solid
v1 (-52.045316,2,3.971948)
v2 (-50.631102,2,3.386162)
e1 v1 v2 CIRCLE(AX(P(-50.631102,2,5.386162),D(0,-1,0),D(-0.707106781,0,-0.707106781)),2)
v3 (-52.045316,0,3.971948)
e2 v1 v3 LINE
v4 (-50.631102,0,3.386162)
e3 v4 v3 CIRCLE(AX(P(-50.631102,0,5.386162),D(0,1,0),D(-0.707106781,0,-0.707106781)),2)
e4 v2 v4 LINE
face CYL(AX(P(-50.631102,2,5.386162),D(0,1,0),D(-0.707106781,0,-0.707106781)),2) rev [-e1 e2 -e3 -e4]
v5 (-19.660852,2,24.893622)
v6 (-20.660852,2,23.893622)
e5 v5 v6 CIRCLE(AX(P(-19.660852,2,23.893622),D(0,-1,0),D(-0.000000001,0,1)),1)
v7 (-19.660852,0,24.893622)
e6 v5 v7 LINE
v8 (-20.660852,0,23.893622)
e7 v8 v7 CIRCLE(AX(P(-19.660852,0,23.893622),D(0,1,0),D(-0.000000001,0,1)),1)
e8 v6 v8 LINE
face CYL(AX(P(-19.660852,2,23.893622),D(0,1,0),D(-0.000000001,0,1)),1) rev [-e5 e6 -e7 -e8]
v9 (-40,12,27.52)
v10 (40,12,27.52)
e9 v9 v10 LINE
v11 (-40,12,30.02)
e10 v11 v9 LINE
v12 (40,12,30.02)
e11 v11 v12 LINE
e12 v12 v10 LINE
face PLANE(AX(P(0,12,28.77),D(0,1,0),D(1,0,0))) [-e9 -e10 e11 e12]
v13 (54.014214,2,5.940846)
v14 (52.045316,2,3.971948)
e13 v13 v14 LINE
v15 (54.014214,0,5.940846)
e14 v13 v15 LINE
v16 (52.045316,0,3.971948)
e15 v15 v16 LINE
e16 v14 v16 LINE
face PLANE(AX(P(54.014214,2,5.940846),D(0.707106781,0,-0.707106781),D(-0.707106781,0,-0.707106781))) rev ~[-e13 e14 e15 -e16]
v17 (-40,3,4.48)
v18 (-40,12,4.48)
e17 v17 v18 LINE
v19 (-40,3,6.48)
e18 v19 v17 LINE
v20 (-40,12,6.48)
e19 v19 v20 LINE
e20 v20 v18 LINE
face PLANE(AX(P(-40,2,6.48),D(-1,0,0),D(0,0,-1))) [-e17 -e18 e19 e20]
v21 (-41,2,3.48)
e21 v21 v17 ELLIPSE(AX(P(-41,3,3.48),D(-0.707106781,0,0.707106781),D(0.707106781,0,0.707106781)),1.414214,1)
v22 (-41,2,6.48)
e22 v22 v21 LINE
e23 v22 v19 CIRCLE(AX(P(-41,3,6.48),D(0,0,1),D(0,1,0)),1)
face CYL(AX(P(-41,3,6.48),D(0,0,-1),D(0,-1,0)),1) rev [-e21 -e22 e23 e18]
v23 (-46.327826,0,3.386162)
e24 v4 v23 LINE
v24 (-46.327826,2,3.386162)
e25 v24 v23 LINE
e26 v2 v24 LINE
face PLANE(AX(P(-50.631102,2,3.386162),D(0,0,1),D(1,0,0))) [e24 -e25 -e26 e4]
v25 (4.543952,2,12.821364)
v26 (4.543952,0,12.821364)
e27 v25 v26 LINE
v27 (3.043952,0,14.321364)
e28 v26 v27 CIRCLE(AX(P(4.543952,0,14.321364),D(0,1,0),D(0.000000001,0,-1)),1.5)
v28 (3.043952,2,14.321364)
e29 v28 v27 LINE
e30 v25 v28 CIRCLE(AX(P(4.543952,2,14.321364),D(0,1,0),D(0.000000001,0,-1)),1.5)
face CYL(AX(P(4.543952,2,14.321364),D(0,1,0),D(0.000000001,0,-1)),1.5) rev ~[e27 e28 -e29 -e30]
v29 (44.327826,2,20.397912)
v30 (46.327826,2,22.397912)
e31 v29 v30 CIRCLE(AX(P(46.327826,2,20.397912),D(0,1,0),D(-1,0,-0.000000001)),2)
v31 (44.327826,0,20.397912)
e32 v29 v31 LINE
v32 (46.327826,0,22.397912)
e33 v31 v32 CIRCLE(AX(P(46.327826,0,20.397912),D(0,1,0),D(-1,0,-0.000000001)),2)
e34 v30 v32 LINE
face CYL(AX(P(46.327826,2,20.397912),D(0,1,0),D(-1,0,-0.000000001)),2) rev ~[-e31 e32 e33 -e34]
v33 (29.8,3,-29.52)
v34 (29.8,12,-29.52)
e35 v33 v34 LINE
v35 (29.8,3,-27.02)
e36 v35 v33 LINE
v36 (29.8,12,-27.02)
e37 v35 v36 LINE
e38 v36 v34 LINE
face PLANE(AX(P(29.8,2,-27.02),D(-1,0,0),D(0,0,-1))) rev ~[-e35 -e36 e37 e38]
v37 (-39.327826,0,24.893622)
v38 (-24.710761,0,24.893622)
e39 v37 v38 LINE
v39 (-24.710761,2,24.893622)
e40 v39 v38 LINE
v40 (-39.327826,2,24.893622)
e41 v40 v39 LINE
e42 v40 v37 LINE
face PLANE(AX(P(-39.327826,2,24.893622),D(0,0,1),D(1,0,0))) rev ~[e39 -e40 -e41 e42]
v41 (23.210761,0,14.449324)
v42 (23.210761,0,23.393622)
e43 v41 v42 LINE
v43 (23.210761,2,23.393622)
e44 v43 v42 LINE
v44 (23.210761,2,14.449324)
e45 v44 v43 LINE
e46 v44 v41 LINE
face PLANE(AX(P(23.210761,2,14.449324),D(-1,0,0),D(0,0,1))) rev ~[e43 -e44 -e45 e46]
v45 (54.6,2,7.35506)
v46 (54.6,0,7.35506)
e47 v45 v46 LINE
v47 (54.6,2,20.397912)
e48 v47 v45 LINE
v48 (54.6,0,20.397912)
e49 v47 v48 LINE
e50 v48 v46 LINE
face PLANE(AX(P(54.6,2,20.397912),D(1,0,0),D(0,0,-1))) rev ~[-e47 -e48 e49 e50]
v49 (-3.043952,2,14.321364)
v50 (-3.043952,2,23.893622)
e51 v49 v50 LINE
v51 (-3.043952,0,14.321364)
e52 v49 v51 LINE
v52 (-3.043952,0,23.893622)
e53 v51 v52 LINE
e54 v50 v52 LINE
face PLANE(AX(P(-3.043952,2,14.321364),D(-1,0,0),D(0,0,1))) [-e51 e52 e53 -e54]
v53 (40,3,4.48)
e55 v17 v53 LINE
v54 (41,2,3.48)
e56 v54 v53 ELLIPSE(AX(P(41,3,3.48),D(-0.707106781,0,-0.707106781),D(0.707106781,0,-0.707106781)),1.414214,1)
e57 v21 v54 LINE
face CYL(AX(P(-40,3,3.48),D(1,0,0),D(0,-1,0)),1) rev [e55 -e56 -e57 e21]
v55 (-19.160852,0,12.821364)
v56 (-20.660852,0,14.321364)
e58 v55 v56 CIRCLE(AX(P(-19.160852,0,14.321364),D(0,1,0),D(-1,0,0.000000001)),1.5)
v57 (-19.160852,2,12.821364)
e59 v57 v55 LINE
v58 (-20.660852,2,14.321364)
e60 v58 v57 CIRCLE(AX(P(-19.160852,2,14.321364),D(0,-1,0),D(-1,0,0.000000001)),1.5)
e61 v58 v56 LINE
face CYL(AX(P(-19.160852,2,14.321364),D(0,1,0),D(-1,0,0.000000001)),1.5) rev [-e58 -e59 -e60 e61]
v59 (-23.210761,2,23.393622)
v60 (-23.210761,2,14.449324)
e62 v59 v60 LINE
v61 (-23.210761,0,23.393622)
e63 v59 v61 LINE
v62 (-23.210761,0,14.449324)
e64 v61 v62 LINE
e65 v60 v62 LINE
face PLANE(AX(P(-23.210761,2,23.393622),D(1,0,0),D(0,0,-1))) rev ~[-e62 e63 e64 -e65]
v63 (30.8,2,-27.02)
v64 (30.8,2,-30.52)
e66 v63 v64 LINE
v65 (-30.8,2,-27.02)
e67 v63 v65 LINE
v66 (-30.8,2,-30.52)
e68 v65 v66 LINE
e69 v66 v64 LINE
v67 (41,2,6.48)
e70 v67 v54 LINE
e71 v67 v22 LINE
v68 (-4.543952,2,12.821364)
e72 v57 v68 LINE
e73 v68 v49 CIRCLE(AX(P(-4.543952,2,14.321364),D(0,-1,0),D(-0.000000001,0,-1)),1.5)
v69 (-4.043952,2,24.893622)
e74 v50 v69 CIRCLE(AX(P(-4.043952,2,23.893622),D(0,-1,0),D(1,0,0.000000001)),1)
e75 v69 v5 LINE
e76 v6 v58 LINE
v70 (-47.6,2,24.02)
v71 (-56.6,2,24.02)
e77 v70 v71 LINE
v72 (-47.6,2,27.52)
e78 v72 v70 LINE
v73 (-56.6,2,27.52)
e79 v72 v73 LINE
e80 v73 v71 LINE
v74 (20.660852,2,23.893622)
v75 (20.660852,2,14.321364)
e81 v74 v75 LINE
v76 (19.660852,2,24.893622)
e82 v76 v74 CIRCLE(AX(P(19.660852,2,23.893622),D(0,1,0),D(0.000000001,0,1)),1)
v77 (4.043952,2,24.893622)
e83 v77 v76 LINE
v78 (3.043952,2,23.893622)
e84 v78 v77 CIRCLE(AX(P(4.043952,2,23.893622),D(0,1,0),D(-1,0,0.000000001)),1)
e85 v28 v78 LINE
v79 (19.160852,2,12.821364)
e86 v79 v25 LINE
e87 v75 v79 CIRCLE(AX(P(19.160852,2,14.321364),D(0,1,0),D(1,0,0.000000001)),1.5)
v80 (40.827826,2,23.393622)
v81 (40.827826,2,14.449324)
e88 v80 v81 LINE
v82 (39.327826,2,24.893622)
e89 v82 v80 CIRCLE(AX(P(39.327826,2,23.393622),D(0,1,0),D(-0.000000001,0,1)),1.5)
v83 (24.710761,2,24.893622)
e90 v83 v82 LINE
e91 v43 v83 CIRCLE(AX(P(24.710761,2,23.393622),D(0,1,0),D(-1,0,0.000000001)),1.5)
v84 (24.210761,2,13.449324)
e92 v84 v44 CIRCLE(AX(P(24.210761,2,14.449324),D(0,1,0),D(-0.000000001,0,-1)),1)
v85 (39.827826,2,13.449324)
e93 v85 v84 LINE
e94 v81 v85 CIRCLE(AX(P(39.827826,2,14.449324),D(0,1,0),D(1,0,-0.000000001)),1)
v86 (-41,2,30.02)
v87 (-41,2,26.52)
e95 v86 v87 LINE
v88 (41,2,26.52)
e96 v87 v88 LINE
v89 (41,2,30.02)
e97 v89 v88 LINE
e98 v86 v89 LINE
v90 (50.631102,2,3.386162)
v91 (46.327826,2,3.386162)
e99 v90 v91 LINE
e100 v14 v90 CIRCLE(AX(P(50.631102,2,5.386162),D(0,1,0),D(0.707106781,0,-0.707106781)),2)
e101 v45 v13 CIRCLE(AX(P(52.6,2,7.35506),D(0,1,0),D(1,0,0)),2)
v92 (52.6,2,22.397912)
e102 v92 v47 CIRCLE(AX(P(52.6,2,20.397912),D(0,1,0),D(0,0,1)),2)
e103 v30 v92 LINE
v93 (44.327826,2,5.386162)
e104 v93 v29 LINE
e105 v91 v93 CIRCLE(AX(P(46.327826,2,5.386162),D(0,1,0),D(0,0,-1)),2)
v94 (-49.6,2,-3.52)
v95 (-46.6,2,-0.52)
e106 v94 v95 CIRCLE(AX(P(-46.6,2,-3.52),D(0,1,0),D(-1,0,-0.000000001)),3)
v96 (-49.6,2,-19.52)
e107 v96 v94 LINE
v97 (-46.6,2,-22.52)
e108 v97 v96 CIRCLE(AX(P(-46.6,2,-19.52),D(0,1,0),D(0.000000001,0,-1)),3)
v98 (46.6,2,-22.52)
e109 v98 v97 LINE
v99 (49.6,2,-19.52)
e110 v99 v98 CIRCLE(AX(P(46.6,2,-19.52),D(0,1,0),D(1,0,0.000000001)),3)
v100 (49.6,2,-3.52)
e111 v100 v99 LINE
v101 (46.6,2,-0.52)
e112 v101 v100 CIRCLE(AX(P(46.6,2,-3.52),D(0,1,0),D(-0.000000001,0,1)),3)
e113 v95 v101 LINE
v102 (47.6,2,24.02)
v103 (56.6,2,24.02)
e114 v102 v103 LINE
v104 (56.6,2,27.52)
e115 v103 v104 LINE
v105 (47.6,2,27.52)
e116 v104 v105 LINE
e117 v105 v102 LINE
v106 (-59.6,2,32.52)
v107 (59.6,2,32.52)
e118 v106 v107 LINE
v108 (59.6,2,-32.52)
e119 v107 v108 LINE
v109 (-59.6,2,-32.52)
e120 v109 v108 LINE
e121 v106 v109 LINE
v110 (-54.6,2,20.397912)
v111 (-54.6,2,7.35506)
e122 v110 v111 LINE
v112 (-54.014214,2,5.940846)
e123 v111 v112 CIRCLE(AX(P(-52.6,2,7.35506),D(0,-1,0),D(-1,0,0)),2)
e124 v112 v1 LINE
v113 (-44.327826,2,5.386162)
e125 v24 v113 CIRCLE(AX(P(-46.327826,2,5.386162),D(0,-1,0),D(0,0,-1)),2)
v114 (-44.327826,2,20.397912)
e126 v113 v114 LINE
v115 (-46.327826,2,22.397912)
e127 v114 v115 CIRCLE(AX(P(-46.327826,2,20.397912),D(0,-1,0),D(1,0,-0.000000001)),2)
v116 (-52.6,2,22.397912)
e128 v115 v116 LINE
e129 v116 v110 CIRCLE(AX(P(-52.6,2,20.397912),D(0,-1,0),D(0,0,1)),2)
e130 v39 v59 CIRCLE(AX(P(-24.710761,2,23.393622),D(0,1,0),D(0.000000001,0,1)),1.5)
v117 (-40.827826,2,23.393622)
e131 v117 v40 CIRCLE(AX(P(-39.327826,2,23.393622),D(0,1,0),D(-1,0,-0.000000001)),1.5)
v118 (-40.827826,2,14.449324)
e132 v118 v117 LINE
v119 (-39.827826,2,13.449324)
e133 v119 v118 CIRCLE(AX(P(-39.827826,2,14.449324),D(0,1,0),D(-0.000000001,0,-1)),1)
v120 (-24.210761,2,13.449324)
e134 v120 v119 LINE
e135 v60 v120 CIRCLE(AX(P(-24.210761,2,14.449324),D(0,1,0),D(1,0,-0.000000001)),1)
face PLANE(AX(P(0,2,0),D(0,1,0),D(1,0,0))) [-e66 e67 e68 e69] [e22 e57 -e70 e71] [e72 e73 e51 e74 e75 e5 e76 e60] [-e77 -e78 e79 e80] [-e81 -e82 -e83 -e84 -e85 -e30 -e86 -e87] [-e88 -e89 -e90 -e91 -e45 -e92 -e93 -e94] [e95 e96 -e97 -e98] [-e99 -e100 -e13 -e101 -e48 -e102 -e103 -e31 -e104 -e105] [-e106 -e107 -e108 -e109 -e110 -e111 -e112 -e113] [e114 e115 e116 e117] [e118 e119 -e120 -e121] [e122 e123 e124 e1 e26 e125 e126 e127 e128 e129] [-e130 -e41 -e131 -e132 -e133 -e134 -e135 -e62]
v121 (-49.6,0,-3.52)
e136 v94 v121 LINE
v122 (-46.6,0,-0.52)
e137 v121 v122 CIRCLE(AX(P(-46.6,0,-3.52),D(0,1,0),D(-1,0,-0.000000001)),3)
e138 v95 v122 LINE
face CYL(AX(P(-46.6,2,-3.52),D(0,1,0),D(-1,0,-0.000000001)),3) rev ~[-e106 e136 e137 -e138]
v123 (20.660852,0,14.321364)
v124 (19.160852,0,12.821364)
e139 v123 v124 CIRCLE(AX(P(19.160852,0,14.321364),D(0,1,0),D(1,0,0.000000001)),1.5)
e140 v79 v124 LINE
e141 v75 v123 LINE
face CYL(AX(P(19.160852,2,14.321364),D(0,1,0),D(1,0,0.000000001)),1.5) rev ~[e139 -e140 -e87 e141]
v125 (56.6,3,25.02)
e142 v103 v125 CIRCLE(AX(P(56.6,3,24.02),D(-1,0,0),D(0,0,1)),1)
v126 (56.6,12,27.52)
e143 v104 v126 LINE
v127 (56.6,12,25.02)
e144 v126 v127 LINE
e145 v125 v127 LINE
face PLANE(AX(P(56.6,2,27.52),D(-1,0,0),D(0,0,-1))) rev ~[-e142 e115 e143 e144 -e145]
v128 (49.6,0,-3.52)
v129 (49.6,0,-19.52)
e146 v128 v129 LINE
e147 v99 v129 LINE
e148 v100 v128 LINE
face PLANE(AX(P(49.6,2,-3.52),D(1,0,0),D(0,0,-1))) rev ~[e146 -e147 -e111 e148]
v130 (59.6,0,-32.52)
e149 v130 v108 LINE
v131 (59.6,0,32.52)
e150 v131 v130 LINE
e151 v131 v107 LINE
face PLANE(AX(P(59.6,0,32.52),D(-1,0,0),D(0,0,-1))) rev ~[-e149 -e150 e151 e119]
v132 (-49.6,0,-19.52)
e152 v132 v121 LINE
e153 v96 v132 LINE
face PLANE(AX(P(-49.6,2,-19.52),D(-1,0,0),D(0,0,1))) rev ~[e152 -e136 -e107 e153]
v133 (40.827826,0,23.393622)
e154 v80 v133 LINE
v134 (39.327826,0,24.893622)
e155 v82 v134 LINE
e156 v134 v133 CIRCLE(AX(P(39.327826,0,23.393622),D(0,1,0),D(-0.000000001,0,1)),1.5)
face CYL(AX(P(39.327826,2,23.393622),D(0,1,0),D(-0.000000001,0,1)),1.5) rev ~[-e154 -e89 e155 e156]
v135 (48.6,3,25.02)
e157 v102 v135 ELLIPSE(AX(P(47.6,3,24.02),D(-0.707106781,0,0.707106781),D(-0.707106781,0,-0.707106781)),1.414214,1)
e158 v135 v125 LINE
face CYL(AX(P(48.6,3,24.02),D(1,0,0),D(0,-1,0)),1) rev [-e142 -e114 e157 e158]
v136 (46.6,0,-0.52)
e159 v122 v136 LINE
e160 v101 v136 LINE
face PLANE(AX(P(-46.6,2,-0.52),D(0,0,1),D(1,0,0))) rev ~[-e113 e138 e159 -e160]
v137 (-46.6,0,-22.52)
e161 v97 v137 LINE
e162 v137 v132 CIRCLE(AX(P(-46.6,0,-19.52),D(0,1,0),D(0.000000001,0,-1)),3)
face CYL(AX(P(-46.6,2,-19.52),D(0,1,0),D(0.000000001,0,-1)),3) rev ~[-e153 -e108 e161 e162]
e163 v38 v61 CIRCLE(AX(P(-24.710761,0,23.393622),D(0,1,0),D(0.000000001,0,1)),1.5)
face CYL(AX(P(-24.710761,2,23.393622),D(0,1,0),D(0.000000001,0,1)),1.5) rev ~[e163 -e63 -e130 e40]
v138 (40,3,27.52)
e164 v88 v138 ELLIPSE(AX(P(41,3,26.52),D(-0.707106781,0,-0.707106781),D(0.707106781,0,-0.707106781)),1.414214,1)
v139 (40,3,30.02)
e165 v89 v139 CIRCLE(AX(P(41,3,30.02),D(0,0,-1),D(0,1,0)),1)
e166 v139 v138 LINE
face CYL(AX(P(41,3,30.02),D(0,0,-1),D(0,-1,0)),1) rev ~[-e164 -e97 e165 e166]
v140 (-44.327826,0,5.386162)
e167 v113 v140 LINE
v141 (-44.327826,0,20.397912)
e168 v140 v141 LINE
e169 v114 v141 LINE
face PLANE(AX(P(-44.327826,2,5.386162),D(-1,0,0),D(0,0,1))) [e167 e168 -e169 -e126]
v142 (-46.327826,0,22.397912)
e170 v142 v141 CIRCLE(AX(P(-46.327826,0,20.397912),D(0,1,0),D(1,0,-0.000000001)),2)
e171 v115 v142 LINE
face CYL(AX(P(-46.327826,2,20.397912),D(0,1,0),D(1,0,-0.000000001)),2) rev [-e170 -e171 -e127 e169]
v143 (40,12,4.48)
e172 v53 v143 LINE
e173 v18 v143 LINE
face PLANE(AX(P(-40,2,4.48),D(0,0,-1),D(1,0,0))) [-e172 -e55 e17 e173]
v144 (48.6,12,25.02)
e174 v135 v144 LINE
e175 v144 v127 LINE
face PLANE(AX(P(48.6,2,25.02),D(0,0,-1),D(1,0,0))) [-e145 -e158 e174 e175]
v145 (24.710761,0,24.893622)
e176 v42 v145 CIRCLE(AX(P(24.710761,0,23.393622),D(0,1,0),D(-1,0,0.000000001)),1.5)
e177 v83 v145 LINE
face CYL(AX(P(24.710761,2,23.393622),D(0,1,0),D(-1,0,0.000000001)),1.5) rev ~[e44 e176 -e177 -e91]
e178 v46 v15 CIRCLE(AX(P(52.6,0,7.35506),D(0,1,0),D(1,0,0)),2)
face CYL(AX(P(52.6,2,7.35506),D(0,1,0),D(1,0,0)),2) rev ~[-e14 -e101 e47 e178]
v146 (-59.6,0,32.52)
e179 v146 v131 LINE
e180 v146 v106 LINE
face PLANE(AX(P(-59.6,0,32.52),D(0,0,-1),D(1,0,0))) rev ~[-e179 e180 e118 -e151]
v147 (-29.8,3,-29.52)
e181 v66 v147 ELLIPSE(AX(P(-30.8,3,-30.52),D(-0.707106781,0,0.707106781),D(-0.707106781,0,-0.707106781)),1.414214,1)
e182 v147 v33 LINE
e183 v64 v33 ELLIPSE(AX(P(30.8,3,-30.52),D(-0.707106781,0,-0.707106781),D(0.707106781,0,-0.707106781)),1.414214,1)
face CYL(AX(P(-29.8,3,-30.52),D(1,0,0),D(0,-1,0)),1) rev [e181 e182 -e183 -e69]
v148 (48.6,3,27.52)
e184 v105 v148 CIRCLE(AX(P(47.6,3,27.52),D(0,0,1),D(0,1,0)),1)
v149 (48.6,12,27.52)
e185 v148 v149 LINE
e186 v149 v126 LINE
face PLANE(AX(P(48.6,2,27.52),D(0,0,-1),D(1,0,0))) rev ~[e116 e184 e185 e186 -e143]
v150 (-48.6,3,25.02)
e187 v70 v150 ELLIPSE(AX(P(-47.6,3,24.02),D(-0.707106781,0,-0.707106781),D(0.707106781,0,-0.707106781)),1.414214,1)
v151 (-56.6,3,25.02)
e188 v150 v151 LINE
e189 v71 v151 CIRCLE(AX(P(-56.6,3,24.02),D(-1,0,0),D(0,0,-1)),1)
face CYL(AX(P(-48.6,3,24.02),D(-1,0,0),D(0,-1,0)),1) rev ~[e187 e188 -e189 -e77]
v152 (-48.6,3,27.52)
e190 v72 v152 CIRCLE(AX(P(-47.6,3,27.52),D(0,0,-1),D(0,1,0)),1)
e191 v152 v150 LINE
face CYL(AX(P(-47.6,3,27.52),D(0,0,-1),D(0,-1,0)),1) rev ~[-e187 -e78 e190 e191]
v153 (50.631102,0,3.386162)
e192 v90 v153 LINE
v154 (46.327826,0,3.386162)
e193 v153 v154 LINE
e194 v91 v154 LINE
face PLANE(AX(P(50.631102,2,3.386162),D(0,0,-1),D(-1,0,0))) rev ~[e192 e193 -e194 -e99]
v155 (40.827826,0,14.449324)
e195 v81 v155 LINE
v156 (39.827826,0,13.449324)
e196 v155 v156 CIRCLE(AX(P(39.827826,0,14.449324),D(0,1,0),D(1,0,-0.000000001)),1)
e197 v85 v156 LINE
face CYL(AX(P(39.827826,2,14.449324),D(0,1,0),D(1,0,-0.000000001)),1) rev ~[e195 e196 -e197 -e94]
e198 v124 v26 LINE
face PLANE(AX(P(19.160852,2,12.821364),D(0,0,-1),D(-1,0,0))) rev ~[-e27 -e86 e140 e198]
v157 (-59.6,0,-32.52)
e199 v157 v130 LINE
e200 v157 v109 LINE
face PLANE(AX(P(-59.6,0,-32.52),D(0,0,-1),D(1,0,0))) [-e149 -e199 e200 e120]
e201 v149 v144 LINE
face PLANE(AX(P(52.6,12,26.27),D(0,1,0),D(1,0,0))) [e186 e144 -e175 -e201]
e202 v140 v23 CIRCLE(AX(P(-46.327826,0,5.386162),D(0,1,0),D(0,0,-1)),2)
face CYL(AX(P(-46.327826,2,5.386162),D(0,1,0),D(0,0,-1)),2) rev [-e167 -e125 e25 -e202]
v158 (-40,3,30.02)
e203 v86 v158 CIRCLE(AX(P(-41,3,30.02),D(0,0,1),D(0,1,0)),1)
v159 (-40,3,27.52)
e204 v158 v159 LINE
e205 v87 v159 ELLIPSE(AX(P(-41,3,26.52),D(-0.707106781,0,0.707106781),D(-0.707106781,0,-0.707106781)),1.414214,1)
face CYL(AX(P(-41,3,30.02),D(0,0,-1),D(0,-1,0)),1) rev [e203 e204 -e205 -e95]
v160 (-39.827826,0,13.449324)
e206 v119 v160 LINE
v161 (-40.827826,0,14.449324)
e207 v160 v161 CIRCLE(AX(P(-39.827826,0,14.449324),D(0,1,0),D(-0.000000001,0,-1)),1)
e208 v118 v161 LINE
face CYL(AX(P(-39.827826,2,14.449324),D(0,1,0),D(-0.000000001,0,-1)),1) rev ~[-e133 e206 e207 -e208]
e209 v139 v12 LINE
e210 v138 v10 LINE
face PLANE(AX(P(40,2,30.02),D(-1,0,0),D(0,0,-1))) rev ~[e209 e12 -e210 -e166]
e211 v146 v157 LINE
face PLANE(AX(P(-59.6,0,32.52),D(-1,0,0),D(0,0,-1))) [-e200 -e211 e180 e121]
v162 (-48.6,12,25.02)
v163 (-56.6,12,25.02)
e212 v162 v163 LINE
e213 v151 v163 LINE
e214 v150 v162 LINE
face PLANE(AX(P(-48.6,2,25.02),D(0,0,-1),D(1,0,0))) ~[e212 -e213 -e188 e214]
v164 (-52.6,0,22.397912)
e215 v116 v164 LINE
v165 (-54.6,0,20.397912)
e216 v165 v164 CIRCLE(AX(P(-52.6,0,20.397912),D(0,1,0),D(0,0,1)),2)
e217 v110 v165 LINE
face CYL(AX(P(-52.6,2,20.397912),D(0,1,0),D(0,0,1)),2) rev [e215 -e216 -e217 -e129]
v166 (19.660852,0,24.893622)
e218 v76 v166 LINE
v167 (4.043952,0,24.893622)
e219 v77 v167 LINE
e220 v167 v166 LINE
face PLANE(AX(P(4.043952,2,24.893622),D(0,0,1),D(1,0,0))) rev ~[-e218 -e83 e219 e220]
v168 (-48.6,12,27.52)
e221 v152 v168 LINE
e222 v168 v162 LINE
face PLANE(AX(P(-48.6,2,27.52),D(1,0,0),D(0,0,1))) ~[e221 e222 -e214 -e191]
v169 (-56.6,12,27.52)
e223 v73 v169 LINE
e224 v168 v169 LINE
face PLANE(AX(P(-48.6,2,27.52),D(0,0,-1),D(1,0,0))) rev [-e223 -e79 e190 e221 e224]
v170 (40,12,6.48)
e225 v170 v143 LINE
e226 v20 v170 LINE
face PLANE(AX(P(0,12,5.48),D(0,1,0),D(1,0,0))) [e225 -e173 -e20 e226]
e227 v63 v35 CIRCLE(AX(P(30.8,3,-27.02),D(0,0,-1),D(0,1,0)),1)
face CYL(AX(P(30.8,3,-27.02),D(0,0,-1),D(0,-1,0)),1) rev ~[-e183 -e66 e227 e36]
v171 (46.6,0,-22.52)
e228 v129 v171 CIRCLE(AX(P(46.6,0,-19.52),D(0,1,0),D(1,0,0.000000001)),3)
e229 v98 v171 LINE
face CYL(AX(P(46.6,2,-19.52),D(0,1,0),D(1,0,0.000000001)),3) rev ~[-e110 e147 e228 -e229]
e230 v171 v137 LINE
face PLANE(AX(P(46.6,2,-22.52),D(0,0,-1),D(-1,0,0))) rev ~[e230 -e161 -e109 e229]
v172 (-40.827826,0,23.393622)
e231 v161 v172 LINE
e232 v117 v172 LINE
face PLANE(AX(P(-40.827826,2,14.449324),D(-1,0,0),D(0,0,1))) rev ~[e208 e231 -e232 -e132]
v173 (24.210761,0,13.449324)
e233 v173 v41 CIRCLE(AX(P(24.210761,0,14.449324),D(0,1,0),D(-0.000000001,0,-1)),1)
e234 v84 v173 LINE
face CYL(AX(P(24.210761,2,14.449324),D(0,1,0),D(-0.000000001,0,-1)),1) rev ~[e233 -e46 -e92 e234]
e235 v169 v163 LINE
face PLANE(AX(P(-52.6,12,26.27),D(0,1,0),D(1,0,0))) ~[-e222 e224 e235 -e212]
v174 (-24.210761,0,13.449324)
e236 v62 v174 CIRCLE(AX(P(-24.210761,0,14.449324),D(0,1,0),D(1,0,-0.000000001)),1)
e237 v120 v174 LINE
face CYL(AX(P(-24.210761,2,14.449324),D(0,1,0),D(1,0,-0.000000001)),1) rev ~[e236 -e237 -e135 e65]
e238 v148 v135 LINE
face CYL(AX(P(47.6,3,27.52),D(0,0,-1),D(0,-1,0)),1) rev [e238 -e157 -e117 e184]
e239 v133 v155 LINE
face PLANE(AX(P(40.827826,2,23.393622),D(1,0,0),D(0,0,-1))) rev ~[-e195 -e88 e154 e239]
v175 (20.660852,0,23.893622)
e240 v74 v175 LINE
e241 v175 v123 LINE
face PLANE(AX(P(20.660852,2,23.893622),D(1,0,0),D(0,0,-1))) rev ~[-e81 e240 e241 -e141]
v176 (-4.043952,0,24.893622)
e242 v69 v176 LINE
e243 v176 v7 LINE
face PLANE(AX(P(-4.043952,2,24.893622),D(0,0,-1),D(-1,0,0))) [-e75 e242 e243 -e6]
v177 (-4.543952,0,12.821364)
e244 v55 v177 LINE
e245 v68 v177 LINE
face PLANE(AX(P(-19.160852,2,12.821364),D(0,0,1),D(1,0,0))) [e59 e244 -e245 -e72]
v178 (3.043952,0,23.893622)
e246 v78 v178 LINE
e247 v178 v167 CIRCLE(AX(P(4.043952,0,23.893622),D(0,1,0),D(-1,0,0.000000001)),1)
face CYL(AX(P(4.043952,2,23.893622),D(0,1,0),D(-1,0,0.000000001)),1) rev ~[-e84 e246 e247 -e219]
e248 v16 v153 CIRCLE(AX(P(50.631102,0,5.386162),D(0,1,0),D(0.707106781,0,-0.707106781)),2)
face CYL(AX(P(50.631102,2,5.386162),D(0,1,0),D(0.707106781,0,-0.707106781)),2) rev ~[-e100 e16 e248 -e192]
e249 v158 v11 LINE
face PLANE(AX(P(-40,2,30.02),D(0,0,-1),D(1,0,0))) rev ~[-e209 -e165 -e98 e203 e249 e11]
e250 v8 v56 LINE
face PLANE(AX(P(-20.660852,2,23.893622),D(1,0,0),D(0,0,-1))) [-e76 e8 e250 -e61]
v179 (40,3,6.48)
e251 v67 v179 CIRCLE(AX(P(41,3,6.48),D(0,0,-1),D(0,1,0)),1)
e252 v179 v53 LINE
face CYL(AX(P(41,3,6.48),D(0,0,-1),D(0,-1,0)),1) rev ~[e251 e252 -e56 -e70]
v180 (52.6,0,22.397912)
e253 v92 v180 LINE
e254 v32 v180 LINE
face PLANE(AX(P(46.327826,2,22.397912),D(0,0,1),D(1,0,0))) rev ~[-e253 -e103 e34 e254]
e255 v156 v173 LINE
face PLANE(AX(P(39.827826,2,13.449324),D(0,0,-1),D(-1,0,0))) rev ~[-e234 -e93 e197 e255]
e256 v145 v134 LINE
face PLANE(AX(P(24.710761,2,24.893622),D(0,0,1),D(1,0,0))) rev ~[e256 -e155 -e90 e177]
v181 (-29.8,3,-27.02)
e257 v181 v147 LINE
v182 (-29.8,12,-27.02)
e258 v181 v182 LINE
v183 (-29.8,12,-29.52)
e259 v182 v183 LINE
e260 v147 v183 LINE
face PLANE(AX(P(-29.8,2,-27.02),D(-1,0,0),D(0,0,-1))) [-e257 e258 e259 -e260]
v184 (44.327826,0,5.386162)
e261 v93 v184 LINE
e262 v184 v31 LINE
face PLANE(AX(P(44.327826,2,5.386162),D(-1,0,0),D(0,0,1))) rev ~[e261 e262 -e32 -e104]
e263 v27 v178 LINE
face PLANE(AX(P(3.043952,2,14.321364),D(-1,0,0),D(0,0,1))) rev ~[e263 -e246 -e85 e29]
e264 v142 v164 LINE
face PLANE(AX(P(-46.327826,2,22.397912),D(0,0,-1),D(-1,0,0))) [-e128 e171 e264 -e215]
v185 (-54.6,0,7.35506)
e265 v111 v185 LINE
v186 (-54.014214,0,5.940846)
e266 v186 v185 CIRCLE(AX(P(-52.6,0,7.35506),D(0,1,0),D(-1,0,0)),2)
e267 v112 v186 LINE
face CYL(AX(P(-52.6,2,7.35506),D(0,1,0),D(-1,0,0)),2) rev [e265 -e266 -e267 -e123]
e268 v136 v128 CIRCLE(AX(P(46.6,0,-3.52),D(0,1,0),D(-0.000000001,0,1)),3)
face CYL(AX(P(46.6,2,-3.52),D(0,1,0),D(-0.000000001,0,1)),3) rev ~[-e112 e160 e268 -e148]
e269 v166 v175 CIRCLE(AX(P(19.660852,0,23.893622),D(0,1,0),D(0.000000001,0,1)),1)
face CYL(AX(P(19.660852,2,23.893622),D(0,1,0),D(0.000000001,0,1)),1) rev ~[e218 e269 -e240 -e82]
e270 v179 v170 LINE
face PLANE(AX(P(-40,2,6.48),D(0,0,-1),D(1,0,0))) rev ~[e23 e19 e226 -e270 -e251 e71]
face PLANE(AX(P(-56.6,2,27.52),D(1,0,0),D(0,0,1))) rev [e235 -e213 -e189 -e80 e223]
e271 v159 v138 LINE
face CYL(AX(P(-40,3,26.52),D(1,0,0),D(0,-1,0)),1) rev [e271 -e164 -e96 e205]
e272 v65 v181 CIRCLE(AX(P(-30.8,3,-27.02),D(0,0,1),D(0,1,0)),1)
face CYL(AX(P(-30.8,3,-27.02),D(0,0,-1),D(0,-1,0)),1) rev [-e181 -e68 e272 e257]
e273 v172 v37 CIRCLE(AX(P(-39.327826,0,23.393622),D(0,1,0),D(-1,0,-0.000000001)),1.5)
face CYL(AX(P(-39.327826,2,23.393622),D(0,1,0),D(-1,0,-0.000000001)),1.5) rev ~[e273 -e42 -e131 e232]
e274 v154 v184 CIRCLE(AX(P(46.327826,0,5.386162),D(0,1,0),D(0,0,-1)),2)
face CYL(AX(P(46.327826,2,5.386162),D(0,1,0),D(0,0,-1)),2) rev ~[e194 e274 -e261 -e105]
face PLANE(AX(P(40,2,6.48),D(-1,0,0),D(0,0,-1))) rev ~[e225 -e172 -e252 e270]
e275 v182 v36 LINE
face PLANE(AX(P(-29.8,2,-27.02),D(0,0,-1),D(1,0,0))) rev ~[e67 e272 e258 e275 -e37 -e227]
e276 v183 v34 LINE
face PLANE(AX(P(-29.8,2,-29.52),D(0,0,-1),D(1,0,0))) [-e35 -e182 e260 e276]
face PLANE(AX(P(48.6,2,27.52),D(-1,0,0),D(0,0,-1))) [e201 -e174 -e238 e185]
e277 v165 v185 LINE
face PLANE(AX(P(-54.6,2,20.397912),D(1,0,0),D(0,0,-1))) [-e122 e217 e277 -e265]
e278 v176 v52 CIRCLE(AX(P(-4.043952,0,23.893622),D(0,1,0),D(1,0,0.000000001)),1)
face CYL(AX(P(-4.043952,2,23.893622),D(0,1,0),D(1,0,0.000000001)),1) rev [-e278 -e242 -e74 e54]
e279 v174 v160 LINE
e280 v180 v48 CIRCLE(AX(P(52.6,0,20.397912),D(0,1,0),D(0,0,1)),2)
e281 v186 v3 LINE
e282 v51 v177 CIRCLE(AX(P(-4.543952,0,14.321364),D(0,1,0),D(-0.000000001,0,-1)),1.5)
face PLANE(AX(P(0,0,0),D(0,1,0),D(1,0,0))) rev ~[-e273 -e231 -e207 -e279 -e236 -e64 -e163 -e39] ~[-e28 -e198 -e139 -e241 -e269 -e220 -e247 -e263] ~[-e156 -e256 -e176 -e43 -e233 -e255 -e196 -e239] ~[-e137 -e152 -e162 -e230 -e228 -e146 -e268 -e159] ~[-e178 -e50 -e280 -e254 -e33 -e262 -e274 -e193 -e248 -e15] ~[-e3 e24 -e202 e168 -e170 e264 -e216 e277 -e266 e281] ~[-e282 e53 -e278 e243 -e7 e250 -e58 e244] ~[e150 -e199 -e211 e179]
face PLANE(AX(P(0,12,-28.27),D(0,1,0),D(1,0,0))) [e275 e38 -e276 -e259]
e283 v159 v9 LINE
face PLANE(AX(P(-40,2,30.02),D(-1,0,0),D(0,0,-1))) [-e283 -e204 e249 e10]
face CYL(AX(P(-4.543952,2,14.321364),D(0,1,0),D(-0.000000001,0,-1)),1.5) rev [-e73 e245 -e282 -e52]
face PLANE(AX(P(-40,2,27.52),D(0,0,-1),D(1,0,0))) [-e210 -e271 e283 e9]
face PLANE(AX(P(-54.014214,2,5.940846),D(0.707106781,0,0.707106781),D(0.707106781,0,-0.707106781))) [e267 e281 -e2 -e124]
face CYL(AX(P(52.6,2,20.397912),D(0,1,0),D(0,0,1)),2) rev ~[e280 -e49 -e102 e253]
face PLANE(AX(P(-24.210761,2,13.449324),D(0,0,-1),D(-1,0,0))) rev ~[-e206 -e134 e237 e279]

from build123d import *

# Parameters (mm, degrees)
SKETCH1_W           = 119.2
SKETCH1_H           = 65.04
BOSS_EXTRUDE1_DEPTH = 2
SKETCH2_W           = 59.6
SKETCH2_H           = 2.5
SKETCH2_W_2         = 80
SKETCH2_H_2         = 2
BOSS_EXTRUDE2_DEPTH = 10
FILLET1_R           = 1
SKETCH4_W           = 80
SKETCH4_H           = 2.5
SKETCH4_W_2         = 8
BOSS_EXTRUDE3_DEPTH = 10
FILLET2_R           = 1
FILLET3_R           = 1
CUT_EXTRUDE2_DEPTH  = 10
CUT_EXTRUDE3_DEPTH  = 10


with BuildPart() as part:
    # Sketch1 → Boss-Extrude1 (new body)
    with BuildSketch(Plane(origin=(0, 0, 0), x_dir=(1, 0, 0), z_dir=(0, 1, 0))):
        Rectangle(SKETCH1_W, SKETCH1_H)
    extrude(amount=BOSS_EXTRUDE1_DEPTH)

    # Sketch2 → Boss-Extrude2 (add)
    with BuildSketch(Plane(origin=(0, 2, 0), x_dir=(1, 0, 0), z_dir=(0, 1, 0))):
        with Locations((0, 28.27)):
            Rectangle(SKETCH2_W, SKETCH2_H)
        with Locations((0, -5.48)):
            Rectangle(SKETCH2_W_2, SKETCH2_H_2)
    extrude(amount=BOSS_EXTRUDE2_DEPTH)

    # Fillet1
    fillet1_edges = [part.edges().sort_by_distance(p)[0] for p in [
        (40, 2, 5.48),
        (0, 2, 4.48),
        (-40, 2, 5.48),
        (-29.8, 2, -28.27),
        (29.8, 2, -28.27),
        (0, 2, -29.52),
    ]]
    fillet(fillet1_edges, radius=FILLET1_R)

    # Sketch4 → Boss-Extrude3 (add)
    with BuildSketch(Plane(origin=(0, 2, 0), x_dir=(1, 0, 0), z_dir=(0, 1, 0))):
        with Locations((0, -28.77)):
            Rectangle(SKETCH4_W, SKETCH4_H)
        with Locations((52.6, -26.27)):
            Rectangle(SKETCH4_W_2, SKETCH4_H)
    boss_extrude3 = extrude(amount=BOSS_EXTRUDE3_DEPTH)

    # Fillet2
    fillet2_edges = [part.edges().sort_by_distance(p)[0] for p in [
        (-40, 2, 28.77),
        (48.6, 2, 26.27),
        (52.6, 2, 25.02),
        (40, 2, 28.77),
        (0, 2, 27.52),
    ]]
    fillet(fillet2_edges, radius=FILLET2_R)

    # Mirror1: Boss-Extrude3 across plane
    add(boss_extrude3.mirror(Plane.ZY))

    # Fillet3
    fillet3_edges = [part.edges().sort_by_distance(p)[0] for p in [
        (-48.6, 2, 26.27),
        (-52.6, 2, 25.02),
    ]]
    fillet(fillet3_edges, radius=FILLET3_R)

    # Sketch5 → Cut-Extrude2 (cut)
    with BuildSketch(Plane(origin=(0, 2, 0), x_dir=(1, 0, 0), z_dir=(0, 1, 0))):
        with BuildLine():
            Line((46.6, 22.52), (6.311514948, 22.52))
            Line((6.311514948, 22.52), (-46.6, 22.52))
            ThreePointArc((-46.6, 22.52), (-48.721320344, 21.641320344), (-49.6, 19.52))
            Line((-49.6, 19.52), (-49.6, 3.52))
            ThreePointArc((-49.6, 3.52), (-48.721320344, 1.398679656), (-46.6, 0.52))
            Line((-46.6, 0.52), (46.6, 0.52))
            ThreePointArc((46.6, 0.52), (48.721320344, 1.398679656), (49.6, 3.52))
            Line((49.6, 3.52), (49.6, 19.52))
            ThreePointArc((49.6, 19.52), (48.721320344, 21.641320344), (46.6, 22.52))
        make_face()
    extrude(amount=-CUT_EXTRUDE2_DEPTH, mode=Mode.SUBTRACT)

    # Sketch6 → Cut-Extrude3 (cut)
    with BuildSketch(Plane(origin=(0, 2, 0), x_dir=(1, 0, 0), z_dir=(0, 1, 0))):
        with BuildLine():
            Line((54.014213562, -5.94084617), (52.045315698, -3.971948306))
            ThreePointArc((52.045315698, -3.971948306), (51.396469, -3.538402803), (50.631102135, -3.386161868))
            Line((50.631102135, -3.386161868), (46.32782558, -3.386161868))
            ThreePointArc((46.32782558, -3.386161868), (44.913612017, -3.971948306), (44.32782558, -5.386161868))
            Line((44.32782558, -5.386161868), (44.32782558, -20.397912268))
            ThreePointArc((44.32782558, -20.397912268), (44.913612017, -21.812125831), (46.32782558, -22.397912268))
            Line((46.32782558, -22.397912268), (52.6, -22.397912268))
            ThreePointArc((52.6, -22.397912268), (54.014213562, -21.812125831), (54.6, -20.397912268))
            Line((54.6, -20.397912268), (54.6, -7.355059733))
            ThreePointArc((54.6, -7.355059733), (54.447759065, -6.589692868), (54.014213562, -5.94084617))
        make_face()
        with BuildLine():
            Line((39.82782558, -13.44932419), (24.210760832, -13.44932419))
            ThreePointArc((24.210760832, -13.44932419), (23.503654051, -13.742217409), (23.210760832, -14.44932419))
            Line((23.210760832, -14.44932419), (23.210760832, -23.393622011))
            ThreePointArc((23.210760832, -23.393622011), (23.650100661, -24.454282183), (24.710760832, -24.893622011))
            Line((24.710760832, -24.893622011), (39.32782558, -24.893622011))
            ThreePointArc((39.32782558, -24.893622011), (40.388485752, -24.454282183), (40.82782558, -23.393622011))
            Line((40.82782558, -23.393622011), (40.82782558, -14.44932419))
            ThreePointArc((40.82782558, -14.44932419), (40.534932361, -13.742217409), (39.82782558, -13.44932419))
        make_face()
        with BuildLine():
            Line((4.043952302, -24.893622011), (19.660852384, -24.893622011))
            ThreePointArc((19.660852384, -24.893622011), (20.367959165, -24.600728792), (20.660852384, -23.893622011))
            Line((20.660852384, -23.893622011), (20.660852384, -14.321364431))
            ThreePointArc((20.660852384, -14.321364431), (20.221512556, -13.260704259), (19.160852384, -12.821364431))
            Line((19.160852384, -12.821364431), (4.543952302, -12.821364431))
            ThreePointArc((4.543952302, -12.821364431), (3.48329213, -13.260704259), (3.043952302, -14.321364431))
            Line((3.043952302, -14.321364431), (3.043952302, -23.893622011))
            ThreePointArc((3.043952302, -23.893622011), (3.336845521, -24.600728792), (4.043952302, -24.893622011))
        make_face()
        with BuildLine():
            Line((-4.043952302, -24.893622011), (-19.660852384, -24.893622011))
            ThreePointArc((-19.660852384, -24.893622011), (-20.367959165, -24.600728792), (-20.660852384, -23.893622011))
            Line((-20.660852384, -23.893622011), (-20.660852384, -14.321364431))
            ThreePointArc((-20.660852384, -14.321364431), (-20.221512556, -13.260704259), (-19.160852384, -12.821364431))
            Line((-19.160852384, -12.821364431), (-4.543952302, -12.821364431))
            ThreePointArc((-4.543952302, -12.821364431), (-3.48329213, -13.260704259), (-3.043952302, -14.321364431))
            Line((-3.043952302, -14.321364431), (-3.043952302, -23.893622011))
            ThreePointArc((-3.043952302, -23.893622011), (-3.336845521, -24.600728792), (-4.043952302, -24.893622011))
        make_face()
        with BuildLine():
            Line((-39.32782558, -24.893622011), (-24.710760832, -24.893622011))
            ThreePointArc((-24.710760832, -24.893622011), (-23.650100661, -24.454282183), (-23.210760832, -23.393622011))
            Line((-23.210760832, -23.393622011), (-23.210760832, -14.44932419))
            ThreePointArc((-23.210760832, -14.44932419), (-23.503654051, -13.742217409), (-24.210760832, -13.44932419))
            Line((-24.210760832, -13.44932419), (-39.82782558, -13.44932419))
            ThreePointArc((-39.82782558, -13.44932419), (-40.534932361, -13.742217409), (-40.82782558, -14.44932419))
            Line((-40.82782558, -14.44932419), (-40.82782558, -23.393622011))
            ThreePointArc((-40.82782558, -23.393622011), (-40.388485752, -24.454282183), (-39.32782558, -24.893622011))
        make_face()
        with BuildLine():
            Line((-44.32782558, -5.386161868), (-44.32782558, -20.397912268))
            ThreePointArc((-44.32782558, -20.397912268), (-44.913612017, -21.812125831), (-46.32782558, -22.397912268))
            Line((-46.32782558, -22.397912268), (-52.6, -22.397912268))
            ThreePointArc((-52.6, -22.397912268), (-54.014213562, -21.812125831), (-54.6, -20.397912268))
            Line((-54.6, -20.397912268), (-54.6, -7.355059733))
            ThreePointArc((-54.6, -7.355059733), (-54.447759065, -6.589692868), (-54.014213562, -5.94084617))
            Line((-54.014213562, -5.94084617), (-52.045315698, -3.971948306))
            ThreePointArc((-52.045315698, -3.971948306), (-51.396469, -3.538402803), (-50.631102135, -3.386161868))
            Line((-50.631102135, -3.386161868), (-46.32782558, -3.386161868))
            ThreePointArc((-46.32782558, -3.386161868), (-44.913612017, -3.971948306), (-44.32782558, -5.386161868))
        make_face()
    extrude(amount=-CUT_EXTRUDE3_DEPTH, mode=Mode.SUBTRACT)


solid = part.part
